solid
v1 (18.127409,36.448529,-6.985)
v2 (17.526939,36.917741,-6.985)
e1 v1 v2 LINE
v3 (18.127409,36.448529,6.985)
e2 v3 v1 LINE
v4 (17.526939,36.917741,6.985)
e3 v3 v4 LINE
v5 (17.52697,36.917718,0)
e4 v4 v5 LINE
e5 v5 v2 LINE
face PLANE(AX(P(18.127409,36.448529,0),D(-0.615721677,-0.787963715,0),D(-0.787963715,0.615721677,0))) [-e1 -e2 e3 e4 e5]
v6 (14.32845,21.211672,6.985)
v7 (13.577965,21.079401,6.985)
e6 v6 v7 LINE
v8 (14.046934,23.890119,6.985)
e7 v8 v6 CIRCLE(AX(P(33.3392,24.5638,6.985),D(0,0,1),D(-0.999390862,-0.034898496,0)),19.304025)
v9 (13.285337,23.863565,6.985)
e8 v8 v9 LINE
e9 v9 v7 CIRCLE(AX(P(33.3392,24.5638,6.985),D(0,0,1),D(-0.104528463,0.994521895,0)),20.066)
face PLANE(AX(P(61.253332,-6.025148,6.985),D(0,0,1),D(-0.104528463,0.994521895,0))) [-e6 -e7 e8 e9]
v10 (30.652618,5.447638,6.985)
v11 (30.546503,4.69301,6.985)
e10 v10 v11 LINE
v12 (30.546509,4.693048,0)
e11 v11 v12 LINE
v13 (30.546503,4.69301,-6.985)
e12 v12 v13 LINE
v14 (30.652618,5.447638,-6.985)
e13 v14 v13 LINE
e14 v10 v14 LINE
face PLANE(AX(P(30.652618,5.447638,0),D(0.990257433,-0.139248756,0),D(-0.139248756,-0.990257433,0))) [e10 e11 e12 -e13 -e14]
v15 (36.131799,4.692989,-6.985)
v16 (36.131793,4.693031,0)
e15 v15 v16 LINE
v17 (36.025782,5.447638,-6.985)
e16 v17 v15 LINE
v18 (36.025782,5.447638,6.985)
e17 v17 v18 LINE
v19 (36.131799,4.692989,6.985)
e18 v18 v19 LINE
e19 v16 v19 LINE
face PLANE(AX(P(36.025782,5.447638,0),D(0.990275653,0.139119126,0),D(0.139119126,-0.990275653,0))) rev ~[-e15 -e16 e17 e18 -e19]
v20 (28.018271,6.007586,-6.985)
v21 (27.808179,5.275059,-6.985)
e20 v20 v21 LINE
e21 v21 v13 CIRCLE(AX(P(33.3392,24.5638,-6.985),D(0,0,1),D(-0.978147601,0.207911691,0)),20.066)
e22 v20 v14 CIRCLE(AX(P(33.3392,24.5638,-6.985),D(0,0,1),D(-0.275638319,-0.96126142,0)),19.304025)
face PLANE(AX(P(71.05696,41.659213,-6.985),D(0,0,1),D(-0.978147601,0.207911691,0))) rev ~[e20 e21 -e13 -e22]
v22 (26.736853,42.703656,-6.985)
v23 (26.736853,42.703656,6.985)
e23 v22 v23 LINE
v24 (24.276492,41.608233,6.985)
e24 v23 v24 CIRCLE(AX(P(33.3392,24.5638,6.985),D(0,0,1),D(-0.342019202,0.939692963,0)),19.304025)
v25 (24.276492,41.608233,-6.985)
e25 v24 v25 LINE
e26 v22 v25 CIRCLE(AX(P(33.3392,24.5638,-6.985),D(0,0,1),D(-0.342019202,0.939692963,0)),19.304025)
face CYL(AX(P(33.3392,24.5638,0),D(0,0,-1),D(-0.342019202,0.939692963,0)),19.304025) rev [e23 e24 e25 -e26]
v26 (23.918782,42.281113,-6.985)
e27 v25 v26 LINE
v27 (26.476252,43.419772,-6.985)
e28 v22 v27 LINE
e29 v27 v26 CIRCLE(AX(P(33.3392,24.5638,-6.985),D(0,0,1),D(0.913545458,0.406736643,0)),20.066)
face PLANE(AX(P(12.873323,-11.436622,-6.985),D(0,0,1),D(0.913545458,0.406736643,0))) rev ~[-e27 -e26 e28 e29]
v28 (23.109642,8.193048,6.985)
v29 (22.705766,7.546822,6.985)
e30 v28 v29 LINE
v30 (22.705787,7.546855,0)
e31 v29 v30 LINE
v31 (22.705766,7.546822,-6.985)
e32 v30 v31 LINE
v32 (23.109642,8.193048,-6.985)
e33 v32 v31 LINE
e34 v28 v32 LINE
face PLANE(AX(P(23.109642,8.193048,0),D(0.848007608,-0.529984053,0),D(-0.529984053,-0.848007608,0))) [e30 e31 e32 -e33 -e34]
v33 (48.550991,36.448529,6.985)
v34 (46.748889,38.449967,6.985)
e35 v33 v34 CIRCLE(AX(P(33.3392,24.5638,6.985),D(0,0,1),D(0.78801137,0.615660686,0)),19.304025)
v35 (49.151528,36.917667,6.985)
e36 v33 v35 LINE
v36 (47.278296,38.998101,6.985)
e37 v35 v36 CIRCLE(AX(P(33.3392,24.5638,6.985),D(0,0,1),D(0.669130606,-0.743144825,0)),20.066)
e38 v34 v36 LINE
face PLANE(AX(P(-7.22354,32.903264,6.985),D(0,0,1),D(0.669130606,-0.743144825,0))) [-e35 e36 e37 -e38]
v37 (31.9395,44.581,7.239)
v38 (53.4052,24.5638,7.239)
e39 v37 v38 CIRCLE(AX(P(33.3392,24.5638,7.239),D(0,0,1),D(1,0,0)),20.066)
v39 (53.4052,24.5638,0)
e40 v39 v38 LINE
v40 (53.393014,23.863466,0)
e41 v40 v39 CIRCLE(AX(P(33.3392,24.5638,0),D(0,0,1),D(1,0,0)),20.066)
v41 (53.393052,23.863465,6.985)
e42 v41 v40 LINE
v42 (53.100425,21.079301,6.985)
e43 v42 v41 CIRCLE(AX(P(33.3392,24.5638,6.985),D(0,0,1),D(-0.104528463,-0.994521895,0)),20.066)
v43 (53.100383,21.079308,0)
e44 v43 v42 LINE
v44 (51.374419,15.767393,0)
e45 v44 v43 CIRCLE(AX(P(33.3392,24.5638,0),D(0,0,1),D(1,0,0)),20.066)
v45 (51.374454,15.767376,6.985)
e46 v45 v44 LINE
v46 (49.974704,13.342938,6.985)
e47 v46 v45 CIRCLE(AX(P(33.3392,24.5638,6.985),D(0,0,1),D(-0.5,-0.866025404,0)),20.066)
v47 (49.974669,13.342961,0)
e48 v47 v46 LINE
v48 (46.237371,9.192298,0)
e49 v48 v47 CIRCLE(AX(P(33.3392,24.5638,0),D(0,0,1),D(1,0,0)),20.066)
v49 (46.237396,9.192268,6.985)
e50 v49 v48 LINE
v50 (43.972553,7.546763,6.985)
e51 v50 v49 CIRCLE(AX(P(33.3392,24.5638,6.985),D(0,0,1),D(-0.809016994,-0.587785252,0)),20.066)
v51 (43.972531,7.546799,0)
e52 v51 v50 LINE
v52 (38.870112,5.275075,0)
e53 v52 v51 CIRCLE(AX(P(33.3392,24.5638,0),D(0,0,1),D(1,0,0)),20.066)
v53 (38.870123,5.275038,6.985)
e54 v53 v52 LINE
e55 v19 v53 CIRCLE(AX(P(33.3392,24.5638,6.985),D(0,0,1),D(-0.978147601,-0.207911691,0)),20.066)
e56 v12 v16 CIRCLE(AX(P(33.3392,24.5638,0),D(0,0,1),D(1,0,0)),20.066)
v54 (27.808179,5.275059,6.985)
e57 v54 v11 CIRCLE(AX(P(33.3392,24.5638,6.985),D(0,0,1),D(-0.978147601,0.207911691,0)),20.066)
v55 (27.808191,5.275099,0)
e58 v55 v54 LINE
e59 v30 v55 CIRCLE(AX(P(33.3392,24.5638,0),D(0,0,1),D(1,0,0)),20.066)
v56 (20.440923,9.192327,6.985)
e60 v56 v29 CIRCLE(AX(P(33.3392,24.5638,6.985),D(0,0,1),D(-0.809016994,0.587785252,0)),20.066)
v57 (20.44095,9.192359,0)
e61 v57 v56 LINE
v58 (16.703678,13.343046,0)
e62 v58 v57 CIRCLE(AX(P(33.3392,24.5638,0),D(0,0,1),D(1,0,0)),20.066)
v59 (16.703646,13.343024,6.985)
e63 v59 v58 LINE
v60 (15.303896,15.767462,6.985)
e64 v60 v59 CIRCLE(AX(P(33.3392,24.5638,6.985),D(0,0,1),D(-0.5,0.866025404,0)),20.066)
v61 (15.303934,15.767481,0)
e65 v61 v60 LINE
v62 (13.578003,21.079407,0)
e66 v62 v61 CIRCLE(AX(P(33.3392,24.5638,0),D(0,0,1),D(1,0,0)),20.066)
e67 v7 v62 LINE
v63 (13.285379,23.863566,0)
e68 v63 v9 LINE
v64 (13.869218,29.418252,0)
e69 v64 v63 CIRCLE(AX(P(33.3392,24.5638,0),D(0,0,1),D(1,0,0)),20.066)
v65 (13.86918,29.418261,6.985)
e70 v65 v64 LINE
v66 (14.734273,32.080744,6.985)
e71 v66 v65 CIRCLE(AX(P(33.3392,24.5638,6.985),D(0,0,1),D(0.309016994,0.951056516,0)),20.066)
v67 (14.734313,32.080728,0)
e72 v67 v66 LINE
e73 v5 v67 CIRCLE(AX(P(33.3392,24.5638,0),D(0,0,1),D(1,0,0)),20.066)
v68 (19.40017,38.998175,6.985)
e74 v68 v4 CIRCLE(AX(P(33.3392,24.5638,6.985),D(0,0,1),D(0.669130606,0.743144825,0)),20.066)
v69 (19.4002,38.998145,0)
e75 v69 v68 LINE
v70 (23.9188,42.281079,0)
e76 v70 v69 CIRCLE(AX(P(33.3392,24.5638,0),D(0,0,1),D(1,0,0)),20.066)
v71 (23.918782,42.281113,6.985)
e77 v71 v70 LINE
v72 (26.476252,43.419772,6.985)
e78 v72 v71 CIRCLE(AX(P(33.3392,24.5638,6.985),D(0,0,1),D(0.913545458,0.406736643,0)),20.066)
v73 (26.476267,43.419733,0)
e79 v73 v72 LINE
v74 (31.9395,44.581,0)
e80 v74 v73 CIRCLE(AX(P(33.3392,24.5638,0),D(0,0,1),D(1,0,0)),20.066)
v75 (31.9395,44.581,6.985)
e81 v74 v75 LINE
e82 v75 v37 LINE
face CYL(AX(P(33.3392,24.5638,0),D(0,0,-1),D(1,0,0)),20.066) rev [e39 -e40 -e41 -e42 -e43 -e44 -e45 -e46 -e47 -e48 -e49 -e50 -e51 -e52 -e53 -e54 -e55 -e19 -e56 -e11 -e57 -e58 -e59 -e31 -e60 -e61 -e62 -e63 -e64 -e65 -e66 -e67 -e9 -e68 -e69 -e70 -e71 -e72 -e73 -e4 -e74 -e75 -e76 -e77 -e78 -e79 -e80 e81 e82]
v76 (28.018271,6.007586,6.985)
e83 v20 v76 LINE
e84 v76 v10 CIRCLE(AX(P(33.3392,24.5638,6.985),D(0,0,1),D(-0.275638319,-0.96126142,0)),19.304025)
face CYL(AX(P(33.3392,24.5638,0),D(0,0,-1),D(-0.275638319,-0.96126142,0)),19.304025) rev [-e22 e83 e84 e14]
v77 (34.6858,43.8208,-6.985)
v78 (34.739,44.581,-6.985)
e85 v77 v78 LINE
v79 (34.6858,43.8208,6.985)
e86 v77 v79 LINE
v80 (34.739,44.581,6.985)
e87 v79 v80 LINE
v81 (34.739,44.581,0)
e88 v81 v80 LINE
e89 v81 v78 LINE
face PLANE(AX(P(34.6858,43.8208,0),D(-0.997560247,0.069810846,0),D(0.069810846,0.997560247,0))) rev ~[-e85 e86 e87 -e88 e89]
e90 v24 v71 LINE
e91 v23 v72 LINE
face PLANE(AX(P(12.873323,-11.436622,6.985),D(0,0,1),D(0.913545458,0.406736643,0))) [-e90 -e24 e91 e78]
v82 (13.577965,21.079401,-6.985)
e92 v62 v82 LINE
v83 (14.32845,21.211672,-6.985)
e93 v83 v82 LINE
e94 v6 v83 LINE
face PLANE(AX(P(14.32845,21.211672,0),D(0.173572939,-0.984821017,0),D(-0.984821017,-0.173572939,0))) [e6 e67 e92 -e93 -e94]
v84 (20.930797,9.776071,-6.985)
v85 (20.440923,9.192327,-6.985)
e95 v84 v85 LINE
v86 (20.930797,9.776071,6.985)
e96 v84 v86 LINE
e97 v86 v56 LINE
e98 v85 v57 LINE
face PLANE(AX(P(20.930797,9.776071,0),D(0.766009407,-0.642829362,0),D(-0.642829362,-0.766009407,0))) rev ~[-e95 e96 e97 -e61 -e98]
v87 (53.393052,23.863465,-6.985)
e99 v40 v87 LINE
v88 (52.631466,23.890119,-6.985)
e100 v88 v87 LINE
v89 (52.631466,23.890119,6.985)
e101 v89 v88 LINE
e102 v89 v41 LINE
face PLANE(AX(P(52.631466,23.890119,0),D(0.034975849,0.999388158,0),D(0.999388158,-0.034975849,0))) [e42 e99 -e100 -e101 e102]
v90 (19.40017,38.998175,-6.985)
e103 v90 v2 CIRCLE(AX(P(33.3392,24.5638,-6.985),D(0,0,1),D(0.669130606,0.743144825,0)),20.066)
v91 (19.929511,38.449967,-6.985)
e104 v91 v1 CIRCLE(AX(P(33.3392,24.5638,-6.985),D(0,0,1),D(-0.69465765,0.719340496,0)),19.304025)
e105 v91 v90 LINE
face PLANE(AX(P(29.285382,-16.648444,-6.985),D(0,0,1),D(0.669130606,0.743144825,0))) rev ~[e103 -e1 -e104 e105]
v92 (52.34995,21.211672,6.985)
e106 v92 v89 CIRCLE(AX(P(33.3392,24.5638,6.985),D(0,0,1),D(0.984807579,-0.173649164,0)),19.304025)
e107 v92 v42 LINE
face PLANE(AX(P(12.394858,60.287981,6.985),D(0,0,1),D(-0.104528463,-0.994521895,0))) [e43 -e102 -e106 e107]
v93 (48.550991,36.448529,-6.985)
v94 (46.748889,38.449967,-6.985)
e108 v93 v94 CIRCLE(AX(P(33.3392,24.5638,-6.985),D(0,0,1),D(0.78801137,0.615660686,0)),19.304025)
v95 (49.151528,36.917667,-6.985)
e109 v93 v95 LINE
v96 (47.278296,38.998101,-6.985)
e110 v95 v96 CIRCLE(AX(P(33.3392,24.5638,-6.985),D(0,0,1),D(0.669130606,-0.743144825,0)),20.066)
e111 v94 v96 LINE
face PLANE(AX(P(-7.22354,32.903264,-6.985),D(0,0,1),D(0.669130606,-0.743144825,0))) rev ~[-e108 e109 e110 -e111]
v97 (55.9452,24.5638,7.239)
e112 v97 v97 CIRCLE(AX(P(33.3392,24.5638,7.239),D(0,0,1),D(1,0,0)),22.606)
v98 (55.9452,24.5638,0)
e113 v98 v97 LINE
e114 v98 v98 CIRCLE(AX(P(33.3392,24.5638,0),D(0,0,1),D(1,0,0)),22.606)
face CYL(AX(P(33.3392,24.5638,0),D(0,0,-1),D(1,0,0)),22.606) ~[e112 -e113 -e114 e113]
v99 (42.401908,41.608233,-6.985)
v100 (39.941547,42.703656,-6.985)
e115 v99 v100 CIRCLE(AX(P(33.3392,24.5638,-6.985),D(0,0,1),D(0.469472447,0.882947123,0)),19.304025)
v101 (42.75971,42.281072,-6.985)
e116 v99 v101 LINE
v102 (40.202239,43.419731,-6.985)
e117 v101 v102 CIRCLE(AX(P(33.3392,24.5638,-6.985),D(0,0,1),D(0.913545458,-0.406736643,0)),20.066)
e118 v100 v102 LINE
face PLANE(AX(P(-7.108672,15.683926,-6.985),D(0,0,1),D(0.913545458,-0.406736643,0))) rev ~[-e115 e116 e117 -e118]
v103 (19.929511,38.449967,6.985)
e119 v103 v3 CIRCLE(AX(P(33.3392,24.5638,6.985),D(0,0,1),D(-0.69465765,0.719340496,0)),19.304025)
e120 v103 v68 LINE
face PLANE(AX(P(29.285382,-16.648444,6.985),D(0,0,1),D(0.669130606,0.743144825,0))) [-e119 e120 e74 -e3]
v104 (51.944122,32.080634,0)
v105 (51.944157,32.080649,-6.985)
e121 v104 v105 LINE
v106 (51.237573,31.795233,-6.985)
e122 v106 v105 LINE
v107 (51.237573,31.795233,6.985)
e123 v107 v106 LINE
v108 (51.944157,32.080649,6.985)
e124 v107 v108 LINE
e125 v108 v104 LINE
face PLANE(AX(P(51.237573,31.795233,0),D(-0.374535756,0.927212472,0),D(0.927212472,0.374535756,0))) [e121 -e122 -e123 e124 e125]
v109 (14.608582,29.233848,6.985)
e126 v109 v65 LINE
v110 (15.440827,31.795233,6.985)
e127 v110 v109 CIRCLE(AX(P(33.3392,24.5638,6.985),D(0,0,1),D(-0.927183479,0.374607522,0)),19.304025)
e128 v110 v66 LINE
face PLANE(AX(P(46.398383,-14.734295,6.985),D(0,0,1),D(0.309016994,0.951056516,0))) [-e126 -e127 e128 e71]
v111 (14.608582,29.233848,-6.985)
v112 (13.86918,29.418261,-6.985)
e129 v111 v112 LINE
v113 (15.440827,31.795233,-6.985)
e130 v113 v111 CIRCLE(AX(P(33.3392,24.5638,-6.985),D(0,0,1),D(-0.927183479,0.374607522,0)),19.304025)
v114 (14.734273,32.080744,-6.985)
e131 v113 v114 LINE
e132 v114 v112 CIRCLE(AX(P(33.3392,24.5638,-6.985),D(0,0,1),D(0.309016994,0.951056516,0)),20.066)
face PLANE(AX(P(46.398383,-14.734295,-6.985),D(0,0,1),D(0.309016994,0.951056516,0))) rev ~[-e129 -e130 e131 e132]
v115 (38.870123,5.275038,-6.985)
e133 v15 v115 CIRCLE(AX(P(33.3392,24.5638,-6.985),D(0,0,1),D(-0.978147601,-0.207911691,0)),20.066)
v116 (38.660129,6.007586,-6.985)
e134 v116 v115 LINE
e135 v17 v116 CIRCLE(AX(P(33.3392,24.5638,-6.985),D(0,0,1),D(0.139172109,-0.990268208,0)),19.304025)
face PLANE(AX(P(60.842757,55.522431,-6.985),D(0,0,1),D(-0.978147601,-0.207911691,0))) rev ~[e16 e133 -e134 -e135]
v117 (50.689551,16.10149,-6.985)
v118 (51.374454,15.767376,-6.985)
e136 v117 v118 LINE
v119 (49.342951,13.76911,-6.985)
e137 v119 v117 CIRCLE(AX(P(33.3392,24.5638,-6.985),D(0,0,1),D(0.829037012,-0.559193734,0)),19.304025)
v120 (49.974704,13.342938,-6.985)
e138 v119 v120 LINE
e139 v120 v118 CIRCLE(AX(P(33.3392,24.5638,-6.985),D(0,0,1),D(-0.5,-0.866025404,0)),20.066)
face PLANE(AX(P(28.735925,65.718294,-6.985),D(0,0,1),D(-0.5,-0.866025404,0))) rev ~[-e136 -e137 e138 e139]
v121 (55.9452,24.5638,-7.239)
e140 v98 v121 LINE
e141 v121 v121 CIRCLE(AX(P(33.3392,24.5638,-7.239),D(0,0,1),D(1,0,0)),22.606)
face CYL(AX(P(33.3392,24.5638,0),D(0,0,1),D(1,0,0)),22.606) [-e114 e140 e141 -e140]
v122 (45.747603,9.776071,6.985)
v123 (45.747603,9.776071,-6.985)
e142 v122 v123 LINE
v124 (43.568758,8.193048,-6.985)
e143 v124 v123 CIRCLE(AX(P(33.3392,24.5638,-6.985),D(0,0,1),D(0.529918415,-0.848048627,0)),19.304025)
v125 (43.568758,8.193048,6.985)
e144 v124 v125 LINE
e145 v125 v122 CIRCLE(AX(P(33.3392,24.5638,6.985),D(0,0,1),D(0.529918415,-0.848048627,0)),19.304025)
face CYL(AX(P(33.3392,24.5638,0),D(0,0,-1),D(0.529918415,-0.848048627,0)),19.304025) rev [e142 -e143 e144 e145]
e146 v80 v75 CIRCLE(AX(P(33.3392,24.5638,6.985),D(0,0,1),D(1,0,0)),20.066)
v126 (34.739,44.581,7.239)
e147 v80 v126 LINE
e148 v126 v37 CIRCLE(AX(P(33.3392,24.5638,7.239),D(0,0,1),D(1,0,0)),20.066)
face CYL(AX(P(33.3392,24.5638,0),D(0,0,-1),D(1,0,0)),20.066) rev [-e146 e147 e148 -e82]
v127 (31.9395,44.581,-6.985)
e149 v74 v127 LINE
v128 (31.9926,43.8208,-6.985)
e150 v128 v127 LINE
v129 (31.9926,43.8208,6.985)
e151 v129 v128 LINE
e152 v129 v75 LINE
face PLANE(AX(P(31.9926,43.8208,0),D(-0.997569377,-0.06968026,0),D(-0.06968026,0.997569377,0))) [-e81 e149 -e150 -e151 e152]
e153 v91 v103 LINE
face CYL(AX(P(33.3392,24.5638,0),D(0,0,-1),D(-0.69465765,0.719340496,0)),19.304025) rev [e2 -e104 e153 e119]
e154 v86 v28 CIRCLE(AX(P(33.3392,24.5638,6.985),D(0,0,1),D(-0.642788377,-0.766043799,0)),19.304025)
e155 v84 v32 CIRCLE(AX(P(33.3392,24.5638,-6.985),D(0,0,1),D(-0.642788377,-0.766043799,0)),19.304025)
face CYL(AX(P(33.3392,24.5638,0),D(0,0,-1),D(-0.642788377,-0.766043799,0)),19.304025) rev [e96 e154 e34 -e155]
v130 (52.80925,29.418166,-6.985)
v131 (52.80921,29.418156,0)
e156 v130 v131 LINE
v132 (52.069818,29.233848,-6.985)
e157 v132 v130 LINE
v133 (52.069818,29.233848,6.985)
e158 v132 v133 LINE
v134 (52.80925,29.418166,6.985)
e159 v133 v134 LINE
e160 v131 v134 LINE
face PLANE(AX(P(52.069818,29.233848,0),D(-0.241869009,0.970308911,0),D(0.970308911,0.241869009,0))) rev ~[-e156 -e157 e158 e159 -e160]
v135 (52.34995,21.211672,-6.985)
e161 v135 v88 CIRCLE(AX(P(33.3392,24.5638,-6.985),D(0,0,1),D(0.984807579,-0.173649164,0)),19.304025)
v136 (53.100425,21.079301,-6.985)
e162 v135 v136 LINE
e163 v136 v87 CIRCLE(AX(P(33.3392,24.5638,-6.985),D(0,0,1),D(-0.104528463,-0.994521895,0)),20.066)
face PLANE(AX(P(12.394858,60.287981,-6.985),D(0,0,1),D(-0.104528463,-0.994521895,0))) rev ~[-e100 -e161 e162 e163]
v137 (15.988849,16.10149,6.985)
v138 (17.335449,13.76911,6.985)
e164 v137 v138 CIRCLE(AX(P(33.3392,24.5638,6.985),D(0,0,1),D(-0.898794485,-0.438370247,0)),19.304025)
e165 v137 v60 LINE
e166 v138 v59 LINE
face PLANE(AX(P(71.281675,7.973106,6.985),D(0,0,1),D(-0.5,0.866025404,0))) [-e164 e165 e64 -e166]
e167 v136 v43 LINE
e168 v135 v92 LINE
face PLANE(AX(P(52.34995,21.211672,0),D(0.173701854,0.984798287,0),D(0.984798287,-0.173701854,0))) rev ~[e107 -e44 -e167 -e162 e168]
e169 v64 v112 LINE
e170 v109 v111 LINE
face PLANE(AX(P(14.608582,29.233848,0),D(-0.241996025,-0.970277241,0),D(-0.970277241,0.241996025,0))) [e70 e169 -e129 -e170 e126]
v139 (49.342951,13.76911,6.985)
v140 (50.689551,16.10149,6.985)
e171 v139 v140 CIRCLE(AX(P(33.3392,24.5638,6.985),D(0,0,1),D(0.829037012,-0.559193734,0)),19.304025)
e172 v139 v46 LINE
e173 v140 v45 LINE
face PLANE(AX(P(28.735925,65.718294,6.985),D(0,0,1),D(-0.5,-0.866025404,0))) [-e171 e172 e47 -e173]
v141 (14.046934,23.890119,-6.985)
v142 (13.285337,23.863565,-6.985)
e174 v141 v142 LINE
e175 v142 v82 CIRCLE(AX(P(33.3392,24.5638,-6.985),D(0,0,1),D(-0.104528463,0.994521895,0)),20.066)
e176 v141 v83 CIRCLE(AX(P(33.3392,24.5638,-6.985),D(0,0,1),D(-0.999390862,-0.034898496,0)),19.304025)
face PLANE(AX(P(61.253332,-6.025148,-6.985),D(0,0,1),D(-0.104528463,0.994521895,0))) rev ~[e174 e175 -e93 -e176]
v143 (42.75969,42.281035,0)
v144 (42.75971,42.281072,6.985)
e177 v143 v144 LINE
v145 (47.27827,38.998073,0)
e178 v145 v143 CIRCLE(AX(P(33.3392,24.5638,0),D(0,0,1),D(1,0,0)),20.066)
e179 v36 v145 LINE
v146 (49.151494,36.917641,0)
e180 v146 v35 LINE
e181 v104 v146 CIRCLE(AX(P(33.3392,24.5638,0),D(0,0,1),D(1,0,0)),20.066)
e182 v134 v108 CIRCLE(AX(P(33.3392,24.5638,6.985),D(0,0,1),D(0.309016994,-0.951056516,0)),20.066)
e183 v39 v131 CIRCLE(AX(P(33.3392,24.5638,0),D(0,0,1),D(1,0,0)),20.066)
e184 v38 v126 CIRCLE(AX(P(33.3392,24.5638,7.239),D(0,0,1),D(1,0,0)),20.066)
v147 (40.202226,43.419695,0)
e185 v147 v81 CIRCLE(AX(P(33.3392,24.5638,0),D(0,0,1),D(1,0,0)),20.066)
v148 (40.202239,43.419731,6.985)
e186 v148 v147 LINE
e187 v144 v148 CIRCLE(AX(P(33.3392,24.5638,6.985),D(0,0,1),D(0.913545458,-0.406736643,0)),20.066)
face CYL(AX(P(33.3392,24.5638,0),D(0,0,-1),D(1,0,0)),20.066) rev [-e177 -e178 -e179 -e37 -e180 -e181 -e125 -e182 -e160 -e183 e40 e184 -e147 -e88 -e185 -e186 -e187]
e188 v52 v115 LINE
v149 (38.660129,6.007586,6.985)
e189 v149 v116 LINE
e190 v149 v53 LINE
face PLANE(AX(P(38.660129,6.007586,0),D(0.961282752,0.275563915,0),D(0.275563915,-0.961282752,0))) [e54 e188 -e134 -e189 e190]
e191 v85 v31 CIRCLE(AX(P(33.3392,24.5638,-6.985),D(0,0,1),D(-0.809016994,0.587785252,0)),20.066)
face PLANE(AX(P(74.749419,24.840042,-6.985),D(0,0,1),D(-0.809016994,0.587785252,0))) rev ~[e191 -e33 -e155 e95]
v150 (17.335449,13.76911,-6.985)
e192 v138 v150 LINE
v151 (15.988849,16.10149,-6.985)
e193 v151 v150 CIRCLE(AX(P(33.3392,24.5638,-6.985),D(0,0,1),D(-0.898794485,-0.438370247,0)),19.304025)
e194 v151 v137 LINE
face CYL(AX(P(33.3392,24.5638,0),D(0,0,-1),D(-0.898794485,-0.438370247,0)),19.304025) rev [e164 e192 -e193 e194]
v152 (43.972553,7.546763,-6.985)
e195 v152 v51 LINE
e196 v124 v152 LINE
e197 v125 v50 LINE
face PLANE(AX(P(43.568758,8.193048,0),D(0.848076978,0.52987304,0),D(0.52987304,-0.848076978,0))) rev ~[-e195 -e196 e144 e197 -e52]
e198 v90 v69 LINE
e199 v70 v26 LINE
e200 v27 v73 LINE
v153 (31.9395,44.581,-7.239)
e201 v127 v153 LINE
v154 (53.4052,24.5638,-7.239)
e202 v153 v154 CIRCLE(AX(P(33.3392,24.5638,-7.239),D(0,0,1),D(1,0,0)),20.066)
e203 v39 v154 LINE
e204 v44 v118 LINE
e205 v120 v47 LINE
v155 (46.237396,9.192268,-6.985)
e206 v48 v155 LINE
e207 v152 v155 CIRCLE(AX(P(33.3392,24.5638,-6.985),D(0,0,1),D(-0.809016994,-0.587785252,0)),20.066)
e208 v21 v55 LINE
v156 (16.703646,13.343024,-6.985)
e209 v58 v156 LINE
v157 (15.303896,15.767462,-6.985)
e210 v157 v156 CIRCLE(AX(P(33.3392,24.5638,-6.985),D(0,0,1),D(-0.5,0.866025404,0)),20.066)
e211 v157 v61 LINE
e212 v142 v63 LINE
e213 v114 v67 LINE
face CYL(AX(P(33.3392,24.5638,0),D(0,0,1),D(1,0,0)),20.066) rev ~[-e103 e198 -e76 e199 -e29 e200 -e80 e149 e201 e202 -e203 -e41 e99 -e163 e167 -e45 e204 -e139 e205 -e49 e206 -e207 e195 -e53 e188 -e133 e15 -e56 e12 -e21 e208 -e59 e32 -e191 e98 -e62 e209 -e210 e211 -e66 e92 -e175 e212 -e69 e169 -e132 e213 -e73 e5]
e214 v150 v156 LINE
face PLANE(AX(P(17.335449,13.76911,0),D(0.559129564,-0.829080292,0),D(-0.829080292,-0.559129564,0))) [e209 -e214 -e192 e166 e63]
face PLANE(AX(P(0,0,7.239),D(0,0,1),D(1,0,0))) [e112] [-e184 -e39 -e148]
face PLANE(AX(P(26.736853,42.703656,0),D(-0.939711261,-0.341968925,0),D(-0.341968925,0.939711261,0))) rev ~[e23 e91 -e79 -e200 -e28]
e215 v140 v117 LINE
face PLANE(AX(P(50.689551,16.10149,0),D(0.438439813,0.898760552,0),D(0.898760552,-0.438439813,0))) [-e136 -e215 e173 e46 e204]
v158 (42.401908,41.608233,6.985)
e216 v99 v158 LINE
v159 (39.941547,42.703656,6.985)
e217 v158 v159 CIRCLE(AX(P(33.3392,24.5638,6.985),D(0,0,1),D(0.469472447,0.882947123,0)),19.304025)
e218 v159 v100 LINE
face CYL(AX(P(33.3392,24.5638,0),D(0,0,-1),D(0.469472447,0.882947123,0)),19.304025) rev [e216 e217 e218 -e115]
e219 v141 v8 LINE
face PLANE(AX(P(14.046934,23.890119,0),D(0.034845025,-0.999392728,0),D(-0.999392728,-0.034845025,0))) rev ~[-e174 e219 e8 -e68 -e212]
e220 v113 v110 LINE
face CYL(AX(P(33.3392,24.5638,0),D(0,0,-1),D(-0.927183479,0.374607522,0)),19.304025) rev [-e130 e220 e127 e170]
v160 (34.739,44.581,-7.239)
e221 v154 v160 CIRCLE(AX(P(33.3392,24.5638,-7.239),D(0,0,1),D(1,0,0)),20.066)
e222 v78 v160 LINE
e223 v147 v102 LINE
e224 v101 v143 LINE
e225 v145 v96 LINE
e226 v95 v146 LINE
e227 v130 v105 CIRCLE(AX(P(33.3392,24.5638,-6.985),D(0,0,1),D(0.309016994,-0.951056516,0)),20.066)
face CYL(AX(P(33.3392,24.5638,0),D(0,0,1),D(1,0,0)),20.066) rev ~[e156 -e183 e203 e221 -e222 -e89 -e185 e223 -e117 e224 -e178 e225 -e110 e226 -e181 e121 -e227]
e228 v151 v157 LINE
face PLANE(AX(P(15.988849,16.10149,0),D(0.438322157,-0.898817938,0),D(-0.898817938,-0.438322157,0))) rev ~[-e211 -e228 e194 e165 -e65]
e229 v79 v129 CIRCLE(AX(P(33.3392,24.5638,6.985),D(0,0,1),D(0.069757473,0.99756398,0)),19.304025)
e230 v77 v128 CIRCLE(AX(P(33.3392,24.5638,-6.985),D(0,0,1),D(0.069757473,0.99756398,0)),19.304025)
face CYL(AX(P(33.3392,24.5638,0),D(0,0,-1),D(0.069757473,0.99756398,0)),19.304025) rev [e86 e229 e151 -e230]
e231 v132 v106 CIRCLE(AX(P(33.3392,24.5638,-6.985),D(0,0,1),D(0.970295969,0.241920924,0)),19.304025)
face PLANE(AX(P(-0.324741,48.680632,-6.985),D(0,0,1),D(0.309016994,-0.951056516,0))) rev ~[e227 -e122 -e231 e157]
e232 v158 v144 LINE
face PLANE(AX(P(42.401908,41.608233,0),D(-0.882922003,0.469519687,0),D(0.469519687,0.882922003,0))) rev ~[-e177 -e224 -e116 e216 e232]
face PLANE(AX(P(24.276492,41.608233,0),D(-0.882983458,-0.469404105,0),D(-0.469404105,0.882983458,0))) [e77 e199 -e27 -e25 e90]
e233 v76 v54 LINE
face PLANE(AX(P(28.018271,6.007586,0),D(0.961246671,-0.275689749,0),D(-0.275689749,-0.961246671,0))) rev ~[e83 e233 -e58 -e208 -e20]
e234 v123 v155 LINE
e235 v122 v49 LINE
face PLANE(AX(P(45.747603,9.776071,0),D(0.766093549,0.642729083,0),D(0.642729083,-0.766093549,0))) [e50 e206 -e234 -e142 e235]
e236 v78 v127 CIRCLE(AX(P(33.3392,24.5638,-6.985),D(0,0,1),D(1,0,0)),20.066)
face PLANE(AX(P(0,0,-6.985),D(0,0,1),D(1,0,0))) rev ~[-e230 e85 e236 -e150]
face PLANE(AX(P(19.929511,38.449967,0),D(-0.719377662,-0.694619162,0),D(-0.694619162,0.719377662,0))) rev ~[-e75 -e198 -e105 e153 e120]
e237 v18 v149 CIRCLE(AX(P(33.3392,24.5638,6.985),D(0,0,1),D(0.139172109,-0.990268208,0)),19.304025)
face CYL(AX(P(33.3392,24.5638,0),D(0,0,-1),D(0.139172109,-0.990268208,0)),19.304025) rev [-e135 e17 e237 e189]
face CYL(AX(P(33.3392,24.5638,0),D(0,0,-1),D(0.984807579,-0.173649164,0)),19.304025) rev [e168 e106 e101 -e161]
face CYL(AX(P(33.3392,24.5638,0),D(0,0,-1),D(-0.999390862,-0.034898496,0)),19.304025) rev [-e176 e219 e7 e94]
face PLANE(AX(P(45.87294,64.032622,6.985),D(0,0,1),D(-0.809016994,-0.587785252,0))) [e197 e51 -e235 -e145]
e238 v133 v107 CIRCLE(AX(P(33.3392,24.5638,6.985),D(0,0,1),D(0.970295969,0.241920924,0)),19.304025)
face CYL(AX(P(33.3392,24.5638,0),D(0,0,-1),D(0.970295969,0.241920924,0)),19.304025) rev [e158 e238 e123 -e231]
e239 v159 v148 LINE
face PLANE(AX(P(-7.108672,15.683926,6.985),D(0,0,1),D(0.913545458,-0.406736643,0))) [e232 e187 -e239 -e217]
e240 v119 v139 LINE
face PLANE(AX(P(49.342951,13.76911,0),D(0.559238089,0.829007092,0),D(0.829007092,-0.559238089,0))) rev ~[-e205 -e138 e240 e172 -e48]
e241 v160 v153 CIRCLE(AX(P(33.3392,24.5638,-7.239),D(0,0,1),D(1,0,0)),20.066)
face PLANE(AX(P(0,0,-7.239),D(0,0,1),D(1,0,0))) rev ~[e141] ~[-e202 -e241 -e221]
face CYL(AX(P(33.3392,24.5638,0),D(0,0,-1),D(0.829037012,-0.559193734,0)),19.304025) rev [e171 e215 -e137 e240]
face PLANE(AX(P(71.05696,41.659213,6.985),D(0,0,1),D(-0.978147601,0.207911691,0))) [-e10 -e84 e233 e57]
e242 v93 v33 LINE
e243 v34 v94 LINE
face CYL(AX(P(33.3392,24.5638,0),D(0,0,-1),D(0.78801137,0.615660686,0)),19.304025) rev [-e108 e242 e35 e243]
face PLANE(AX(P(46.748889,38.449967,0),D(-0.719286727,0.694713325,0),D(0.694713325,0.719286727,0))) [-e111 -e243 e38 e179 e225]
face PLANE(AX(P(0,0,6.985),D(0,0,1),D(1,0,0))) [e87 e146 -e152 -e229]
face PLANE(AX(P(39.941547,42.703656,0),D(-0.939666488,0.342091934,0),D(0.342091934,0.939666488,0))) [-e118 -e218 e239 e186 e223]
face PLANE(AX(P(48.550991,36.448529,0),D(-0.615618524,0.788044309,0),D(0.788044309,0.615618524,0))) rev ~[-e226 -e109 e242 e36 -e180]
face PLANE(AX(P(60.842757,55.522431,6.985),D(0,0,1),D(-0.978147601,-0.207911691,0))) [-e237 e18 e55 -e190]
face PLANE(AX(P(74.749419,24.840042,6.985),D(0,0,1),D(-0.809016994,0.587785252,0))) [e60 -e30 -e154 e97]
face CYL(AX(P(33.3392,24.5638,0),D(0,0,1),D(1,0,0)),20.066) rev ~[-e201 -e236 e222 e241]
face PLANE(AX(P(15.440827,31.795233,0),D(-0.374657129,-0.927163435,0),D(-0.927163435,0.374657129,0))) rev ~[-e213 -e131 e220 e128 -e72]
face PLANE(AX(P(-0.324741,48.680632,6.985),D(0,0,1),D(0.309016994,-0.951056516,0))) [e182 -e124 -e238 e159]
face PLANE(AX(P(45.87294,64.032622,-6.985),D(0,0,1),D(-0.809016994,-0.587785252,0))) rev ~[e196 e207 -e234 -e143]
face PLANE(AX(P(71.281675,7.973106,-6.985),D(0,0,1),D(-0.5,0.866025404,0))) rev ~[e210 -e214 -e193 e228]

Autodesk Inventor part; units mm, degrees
ref_plane "YZ Plane" through (0, 0, 0) normal (1, 0, 0) x (0, 1, 0)
ref_plane "XZ Plane" through (0, 0, 0) normal (0, 1, 0) x (-1, 0, 0)
ref_plane "XY Plane" through (0, 0, 0) normal (0, 0, 1) x (1, 0, 0)
sketch "Sketch1" plane through (0, 0, 0) normal (0, 0, 1) x (1, 0, 0)
  arc A0 (34.6858, 43.8208) -> (31.9926, 43.8208) centre (33.3392, 24.5638) ccw
  circle A1 centre (33.3392, 24.5638) radius 20.066
  circle A2 centre (33.3392, 24.5638) radius 22.606
  line L0 (34.6858, 43.8208) -> (34.739, 44.581)
  line L1 (31.9926, 43.8208) -> (31.9395, 44.581)
  point P0 (0, 0)
  dimension "d0" = 38.608
  dimension "d3" = 0.762
  dimension "d4" = 2.54
extrude "Extrusion2" add sketch "Sketch1" along normal mid plane 14.478
extrude "Extrusion3" add sketch "Sketch1" along normal mid plane 13.97 contours A0 L1 A1 L0 picked at (34.4103, 44.3421)
pattern_circular "Circular Pattern1" count 15 over 360 about axis through (33.3392, 24.5638, 0) along (0, 0, 1) of "Extrusion3"
properties part number "Automoblox TireTL"
